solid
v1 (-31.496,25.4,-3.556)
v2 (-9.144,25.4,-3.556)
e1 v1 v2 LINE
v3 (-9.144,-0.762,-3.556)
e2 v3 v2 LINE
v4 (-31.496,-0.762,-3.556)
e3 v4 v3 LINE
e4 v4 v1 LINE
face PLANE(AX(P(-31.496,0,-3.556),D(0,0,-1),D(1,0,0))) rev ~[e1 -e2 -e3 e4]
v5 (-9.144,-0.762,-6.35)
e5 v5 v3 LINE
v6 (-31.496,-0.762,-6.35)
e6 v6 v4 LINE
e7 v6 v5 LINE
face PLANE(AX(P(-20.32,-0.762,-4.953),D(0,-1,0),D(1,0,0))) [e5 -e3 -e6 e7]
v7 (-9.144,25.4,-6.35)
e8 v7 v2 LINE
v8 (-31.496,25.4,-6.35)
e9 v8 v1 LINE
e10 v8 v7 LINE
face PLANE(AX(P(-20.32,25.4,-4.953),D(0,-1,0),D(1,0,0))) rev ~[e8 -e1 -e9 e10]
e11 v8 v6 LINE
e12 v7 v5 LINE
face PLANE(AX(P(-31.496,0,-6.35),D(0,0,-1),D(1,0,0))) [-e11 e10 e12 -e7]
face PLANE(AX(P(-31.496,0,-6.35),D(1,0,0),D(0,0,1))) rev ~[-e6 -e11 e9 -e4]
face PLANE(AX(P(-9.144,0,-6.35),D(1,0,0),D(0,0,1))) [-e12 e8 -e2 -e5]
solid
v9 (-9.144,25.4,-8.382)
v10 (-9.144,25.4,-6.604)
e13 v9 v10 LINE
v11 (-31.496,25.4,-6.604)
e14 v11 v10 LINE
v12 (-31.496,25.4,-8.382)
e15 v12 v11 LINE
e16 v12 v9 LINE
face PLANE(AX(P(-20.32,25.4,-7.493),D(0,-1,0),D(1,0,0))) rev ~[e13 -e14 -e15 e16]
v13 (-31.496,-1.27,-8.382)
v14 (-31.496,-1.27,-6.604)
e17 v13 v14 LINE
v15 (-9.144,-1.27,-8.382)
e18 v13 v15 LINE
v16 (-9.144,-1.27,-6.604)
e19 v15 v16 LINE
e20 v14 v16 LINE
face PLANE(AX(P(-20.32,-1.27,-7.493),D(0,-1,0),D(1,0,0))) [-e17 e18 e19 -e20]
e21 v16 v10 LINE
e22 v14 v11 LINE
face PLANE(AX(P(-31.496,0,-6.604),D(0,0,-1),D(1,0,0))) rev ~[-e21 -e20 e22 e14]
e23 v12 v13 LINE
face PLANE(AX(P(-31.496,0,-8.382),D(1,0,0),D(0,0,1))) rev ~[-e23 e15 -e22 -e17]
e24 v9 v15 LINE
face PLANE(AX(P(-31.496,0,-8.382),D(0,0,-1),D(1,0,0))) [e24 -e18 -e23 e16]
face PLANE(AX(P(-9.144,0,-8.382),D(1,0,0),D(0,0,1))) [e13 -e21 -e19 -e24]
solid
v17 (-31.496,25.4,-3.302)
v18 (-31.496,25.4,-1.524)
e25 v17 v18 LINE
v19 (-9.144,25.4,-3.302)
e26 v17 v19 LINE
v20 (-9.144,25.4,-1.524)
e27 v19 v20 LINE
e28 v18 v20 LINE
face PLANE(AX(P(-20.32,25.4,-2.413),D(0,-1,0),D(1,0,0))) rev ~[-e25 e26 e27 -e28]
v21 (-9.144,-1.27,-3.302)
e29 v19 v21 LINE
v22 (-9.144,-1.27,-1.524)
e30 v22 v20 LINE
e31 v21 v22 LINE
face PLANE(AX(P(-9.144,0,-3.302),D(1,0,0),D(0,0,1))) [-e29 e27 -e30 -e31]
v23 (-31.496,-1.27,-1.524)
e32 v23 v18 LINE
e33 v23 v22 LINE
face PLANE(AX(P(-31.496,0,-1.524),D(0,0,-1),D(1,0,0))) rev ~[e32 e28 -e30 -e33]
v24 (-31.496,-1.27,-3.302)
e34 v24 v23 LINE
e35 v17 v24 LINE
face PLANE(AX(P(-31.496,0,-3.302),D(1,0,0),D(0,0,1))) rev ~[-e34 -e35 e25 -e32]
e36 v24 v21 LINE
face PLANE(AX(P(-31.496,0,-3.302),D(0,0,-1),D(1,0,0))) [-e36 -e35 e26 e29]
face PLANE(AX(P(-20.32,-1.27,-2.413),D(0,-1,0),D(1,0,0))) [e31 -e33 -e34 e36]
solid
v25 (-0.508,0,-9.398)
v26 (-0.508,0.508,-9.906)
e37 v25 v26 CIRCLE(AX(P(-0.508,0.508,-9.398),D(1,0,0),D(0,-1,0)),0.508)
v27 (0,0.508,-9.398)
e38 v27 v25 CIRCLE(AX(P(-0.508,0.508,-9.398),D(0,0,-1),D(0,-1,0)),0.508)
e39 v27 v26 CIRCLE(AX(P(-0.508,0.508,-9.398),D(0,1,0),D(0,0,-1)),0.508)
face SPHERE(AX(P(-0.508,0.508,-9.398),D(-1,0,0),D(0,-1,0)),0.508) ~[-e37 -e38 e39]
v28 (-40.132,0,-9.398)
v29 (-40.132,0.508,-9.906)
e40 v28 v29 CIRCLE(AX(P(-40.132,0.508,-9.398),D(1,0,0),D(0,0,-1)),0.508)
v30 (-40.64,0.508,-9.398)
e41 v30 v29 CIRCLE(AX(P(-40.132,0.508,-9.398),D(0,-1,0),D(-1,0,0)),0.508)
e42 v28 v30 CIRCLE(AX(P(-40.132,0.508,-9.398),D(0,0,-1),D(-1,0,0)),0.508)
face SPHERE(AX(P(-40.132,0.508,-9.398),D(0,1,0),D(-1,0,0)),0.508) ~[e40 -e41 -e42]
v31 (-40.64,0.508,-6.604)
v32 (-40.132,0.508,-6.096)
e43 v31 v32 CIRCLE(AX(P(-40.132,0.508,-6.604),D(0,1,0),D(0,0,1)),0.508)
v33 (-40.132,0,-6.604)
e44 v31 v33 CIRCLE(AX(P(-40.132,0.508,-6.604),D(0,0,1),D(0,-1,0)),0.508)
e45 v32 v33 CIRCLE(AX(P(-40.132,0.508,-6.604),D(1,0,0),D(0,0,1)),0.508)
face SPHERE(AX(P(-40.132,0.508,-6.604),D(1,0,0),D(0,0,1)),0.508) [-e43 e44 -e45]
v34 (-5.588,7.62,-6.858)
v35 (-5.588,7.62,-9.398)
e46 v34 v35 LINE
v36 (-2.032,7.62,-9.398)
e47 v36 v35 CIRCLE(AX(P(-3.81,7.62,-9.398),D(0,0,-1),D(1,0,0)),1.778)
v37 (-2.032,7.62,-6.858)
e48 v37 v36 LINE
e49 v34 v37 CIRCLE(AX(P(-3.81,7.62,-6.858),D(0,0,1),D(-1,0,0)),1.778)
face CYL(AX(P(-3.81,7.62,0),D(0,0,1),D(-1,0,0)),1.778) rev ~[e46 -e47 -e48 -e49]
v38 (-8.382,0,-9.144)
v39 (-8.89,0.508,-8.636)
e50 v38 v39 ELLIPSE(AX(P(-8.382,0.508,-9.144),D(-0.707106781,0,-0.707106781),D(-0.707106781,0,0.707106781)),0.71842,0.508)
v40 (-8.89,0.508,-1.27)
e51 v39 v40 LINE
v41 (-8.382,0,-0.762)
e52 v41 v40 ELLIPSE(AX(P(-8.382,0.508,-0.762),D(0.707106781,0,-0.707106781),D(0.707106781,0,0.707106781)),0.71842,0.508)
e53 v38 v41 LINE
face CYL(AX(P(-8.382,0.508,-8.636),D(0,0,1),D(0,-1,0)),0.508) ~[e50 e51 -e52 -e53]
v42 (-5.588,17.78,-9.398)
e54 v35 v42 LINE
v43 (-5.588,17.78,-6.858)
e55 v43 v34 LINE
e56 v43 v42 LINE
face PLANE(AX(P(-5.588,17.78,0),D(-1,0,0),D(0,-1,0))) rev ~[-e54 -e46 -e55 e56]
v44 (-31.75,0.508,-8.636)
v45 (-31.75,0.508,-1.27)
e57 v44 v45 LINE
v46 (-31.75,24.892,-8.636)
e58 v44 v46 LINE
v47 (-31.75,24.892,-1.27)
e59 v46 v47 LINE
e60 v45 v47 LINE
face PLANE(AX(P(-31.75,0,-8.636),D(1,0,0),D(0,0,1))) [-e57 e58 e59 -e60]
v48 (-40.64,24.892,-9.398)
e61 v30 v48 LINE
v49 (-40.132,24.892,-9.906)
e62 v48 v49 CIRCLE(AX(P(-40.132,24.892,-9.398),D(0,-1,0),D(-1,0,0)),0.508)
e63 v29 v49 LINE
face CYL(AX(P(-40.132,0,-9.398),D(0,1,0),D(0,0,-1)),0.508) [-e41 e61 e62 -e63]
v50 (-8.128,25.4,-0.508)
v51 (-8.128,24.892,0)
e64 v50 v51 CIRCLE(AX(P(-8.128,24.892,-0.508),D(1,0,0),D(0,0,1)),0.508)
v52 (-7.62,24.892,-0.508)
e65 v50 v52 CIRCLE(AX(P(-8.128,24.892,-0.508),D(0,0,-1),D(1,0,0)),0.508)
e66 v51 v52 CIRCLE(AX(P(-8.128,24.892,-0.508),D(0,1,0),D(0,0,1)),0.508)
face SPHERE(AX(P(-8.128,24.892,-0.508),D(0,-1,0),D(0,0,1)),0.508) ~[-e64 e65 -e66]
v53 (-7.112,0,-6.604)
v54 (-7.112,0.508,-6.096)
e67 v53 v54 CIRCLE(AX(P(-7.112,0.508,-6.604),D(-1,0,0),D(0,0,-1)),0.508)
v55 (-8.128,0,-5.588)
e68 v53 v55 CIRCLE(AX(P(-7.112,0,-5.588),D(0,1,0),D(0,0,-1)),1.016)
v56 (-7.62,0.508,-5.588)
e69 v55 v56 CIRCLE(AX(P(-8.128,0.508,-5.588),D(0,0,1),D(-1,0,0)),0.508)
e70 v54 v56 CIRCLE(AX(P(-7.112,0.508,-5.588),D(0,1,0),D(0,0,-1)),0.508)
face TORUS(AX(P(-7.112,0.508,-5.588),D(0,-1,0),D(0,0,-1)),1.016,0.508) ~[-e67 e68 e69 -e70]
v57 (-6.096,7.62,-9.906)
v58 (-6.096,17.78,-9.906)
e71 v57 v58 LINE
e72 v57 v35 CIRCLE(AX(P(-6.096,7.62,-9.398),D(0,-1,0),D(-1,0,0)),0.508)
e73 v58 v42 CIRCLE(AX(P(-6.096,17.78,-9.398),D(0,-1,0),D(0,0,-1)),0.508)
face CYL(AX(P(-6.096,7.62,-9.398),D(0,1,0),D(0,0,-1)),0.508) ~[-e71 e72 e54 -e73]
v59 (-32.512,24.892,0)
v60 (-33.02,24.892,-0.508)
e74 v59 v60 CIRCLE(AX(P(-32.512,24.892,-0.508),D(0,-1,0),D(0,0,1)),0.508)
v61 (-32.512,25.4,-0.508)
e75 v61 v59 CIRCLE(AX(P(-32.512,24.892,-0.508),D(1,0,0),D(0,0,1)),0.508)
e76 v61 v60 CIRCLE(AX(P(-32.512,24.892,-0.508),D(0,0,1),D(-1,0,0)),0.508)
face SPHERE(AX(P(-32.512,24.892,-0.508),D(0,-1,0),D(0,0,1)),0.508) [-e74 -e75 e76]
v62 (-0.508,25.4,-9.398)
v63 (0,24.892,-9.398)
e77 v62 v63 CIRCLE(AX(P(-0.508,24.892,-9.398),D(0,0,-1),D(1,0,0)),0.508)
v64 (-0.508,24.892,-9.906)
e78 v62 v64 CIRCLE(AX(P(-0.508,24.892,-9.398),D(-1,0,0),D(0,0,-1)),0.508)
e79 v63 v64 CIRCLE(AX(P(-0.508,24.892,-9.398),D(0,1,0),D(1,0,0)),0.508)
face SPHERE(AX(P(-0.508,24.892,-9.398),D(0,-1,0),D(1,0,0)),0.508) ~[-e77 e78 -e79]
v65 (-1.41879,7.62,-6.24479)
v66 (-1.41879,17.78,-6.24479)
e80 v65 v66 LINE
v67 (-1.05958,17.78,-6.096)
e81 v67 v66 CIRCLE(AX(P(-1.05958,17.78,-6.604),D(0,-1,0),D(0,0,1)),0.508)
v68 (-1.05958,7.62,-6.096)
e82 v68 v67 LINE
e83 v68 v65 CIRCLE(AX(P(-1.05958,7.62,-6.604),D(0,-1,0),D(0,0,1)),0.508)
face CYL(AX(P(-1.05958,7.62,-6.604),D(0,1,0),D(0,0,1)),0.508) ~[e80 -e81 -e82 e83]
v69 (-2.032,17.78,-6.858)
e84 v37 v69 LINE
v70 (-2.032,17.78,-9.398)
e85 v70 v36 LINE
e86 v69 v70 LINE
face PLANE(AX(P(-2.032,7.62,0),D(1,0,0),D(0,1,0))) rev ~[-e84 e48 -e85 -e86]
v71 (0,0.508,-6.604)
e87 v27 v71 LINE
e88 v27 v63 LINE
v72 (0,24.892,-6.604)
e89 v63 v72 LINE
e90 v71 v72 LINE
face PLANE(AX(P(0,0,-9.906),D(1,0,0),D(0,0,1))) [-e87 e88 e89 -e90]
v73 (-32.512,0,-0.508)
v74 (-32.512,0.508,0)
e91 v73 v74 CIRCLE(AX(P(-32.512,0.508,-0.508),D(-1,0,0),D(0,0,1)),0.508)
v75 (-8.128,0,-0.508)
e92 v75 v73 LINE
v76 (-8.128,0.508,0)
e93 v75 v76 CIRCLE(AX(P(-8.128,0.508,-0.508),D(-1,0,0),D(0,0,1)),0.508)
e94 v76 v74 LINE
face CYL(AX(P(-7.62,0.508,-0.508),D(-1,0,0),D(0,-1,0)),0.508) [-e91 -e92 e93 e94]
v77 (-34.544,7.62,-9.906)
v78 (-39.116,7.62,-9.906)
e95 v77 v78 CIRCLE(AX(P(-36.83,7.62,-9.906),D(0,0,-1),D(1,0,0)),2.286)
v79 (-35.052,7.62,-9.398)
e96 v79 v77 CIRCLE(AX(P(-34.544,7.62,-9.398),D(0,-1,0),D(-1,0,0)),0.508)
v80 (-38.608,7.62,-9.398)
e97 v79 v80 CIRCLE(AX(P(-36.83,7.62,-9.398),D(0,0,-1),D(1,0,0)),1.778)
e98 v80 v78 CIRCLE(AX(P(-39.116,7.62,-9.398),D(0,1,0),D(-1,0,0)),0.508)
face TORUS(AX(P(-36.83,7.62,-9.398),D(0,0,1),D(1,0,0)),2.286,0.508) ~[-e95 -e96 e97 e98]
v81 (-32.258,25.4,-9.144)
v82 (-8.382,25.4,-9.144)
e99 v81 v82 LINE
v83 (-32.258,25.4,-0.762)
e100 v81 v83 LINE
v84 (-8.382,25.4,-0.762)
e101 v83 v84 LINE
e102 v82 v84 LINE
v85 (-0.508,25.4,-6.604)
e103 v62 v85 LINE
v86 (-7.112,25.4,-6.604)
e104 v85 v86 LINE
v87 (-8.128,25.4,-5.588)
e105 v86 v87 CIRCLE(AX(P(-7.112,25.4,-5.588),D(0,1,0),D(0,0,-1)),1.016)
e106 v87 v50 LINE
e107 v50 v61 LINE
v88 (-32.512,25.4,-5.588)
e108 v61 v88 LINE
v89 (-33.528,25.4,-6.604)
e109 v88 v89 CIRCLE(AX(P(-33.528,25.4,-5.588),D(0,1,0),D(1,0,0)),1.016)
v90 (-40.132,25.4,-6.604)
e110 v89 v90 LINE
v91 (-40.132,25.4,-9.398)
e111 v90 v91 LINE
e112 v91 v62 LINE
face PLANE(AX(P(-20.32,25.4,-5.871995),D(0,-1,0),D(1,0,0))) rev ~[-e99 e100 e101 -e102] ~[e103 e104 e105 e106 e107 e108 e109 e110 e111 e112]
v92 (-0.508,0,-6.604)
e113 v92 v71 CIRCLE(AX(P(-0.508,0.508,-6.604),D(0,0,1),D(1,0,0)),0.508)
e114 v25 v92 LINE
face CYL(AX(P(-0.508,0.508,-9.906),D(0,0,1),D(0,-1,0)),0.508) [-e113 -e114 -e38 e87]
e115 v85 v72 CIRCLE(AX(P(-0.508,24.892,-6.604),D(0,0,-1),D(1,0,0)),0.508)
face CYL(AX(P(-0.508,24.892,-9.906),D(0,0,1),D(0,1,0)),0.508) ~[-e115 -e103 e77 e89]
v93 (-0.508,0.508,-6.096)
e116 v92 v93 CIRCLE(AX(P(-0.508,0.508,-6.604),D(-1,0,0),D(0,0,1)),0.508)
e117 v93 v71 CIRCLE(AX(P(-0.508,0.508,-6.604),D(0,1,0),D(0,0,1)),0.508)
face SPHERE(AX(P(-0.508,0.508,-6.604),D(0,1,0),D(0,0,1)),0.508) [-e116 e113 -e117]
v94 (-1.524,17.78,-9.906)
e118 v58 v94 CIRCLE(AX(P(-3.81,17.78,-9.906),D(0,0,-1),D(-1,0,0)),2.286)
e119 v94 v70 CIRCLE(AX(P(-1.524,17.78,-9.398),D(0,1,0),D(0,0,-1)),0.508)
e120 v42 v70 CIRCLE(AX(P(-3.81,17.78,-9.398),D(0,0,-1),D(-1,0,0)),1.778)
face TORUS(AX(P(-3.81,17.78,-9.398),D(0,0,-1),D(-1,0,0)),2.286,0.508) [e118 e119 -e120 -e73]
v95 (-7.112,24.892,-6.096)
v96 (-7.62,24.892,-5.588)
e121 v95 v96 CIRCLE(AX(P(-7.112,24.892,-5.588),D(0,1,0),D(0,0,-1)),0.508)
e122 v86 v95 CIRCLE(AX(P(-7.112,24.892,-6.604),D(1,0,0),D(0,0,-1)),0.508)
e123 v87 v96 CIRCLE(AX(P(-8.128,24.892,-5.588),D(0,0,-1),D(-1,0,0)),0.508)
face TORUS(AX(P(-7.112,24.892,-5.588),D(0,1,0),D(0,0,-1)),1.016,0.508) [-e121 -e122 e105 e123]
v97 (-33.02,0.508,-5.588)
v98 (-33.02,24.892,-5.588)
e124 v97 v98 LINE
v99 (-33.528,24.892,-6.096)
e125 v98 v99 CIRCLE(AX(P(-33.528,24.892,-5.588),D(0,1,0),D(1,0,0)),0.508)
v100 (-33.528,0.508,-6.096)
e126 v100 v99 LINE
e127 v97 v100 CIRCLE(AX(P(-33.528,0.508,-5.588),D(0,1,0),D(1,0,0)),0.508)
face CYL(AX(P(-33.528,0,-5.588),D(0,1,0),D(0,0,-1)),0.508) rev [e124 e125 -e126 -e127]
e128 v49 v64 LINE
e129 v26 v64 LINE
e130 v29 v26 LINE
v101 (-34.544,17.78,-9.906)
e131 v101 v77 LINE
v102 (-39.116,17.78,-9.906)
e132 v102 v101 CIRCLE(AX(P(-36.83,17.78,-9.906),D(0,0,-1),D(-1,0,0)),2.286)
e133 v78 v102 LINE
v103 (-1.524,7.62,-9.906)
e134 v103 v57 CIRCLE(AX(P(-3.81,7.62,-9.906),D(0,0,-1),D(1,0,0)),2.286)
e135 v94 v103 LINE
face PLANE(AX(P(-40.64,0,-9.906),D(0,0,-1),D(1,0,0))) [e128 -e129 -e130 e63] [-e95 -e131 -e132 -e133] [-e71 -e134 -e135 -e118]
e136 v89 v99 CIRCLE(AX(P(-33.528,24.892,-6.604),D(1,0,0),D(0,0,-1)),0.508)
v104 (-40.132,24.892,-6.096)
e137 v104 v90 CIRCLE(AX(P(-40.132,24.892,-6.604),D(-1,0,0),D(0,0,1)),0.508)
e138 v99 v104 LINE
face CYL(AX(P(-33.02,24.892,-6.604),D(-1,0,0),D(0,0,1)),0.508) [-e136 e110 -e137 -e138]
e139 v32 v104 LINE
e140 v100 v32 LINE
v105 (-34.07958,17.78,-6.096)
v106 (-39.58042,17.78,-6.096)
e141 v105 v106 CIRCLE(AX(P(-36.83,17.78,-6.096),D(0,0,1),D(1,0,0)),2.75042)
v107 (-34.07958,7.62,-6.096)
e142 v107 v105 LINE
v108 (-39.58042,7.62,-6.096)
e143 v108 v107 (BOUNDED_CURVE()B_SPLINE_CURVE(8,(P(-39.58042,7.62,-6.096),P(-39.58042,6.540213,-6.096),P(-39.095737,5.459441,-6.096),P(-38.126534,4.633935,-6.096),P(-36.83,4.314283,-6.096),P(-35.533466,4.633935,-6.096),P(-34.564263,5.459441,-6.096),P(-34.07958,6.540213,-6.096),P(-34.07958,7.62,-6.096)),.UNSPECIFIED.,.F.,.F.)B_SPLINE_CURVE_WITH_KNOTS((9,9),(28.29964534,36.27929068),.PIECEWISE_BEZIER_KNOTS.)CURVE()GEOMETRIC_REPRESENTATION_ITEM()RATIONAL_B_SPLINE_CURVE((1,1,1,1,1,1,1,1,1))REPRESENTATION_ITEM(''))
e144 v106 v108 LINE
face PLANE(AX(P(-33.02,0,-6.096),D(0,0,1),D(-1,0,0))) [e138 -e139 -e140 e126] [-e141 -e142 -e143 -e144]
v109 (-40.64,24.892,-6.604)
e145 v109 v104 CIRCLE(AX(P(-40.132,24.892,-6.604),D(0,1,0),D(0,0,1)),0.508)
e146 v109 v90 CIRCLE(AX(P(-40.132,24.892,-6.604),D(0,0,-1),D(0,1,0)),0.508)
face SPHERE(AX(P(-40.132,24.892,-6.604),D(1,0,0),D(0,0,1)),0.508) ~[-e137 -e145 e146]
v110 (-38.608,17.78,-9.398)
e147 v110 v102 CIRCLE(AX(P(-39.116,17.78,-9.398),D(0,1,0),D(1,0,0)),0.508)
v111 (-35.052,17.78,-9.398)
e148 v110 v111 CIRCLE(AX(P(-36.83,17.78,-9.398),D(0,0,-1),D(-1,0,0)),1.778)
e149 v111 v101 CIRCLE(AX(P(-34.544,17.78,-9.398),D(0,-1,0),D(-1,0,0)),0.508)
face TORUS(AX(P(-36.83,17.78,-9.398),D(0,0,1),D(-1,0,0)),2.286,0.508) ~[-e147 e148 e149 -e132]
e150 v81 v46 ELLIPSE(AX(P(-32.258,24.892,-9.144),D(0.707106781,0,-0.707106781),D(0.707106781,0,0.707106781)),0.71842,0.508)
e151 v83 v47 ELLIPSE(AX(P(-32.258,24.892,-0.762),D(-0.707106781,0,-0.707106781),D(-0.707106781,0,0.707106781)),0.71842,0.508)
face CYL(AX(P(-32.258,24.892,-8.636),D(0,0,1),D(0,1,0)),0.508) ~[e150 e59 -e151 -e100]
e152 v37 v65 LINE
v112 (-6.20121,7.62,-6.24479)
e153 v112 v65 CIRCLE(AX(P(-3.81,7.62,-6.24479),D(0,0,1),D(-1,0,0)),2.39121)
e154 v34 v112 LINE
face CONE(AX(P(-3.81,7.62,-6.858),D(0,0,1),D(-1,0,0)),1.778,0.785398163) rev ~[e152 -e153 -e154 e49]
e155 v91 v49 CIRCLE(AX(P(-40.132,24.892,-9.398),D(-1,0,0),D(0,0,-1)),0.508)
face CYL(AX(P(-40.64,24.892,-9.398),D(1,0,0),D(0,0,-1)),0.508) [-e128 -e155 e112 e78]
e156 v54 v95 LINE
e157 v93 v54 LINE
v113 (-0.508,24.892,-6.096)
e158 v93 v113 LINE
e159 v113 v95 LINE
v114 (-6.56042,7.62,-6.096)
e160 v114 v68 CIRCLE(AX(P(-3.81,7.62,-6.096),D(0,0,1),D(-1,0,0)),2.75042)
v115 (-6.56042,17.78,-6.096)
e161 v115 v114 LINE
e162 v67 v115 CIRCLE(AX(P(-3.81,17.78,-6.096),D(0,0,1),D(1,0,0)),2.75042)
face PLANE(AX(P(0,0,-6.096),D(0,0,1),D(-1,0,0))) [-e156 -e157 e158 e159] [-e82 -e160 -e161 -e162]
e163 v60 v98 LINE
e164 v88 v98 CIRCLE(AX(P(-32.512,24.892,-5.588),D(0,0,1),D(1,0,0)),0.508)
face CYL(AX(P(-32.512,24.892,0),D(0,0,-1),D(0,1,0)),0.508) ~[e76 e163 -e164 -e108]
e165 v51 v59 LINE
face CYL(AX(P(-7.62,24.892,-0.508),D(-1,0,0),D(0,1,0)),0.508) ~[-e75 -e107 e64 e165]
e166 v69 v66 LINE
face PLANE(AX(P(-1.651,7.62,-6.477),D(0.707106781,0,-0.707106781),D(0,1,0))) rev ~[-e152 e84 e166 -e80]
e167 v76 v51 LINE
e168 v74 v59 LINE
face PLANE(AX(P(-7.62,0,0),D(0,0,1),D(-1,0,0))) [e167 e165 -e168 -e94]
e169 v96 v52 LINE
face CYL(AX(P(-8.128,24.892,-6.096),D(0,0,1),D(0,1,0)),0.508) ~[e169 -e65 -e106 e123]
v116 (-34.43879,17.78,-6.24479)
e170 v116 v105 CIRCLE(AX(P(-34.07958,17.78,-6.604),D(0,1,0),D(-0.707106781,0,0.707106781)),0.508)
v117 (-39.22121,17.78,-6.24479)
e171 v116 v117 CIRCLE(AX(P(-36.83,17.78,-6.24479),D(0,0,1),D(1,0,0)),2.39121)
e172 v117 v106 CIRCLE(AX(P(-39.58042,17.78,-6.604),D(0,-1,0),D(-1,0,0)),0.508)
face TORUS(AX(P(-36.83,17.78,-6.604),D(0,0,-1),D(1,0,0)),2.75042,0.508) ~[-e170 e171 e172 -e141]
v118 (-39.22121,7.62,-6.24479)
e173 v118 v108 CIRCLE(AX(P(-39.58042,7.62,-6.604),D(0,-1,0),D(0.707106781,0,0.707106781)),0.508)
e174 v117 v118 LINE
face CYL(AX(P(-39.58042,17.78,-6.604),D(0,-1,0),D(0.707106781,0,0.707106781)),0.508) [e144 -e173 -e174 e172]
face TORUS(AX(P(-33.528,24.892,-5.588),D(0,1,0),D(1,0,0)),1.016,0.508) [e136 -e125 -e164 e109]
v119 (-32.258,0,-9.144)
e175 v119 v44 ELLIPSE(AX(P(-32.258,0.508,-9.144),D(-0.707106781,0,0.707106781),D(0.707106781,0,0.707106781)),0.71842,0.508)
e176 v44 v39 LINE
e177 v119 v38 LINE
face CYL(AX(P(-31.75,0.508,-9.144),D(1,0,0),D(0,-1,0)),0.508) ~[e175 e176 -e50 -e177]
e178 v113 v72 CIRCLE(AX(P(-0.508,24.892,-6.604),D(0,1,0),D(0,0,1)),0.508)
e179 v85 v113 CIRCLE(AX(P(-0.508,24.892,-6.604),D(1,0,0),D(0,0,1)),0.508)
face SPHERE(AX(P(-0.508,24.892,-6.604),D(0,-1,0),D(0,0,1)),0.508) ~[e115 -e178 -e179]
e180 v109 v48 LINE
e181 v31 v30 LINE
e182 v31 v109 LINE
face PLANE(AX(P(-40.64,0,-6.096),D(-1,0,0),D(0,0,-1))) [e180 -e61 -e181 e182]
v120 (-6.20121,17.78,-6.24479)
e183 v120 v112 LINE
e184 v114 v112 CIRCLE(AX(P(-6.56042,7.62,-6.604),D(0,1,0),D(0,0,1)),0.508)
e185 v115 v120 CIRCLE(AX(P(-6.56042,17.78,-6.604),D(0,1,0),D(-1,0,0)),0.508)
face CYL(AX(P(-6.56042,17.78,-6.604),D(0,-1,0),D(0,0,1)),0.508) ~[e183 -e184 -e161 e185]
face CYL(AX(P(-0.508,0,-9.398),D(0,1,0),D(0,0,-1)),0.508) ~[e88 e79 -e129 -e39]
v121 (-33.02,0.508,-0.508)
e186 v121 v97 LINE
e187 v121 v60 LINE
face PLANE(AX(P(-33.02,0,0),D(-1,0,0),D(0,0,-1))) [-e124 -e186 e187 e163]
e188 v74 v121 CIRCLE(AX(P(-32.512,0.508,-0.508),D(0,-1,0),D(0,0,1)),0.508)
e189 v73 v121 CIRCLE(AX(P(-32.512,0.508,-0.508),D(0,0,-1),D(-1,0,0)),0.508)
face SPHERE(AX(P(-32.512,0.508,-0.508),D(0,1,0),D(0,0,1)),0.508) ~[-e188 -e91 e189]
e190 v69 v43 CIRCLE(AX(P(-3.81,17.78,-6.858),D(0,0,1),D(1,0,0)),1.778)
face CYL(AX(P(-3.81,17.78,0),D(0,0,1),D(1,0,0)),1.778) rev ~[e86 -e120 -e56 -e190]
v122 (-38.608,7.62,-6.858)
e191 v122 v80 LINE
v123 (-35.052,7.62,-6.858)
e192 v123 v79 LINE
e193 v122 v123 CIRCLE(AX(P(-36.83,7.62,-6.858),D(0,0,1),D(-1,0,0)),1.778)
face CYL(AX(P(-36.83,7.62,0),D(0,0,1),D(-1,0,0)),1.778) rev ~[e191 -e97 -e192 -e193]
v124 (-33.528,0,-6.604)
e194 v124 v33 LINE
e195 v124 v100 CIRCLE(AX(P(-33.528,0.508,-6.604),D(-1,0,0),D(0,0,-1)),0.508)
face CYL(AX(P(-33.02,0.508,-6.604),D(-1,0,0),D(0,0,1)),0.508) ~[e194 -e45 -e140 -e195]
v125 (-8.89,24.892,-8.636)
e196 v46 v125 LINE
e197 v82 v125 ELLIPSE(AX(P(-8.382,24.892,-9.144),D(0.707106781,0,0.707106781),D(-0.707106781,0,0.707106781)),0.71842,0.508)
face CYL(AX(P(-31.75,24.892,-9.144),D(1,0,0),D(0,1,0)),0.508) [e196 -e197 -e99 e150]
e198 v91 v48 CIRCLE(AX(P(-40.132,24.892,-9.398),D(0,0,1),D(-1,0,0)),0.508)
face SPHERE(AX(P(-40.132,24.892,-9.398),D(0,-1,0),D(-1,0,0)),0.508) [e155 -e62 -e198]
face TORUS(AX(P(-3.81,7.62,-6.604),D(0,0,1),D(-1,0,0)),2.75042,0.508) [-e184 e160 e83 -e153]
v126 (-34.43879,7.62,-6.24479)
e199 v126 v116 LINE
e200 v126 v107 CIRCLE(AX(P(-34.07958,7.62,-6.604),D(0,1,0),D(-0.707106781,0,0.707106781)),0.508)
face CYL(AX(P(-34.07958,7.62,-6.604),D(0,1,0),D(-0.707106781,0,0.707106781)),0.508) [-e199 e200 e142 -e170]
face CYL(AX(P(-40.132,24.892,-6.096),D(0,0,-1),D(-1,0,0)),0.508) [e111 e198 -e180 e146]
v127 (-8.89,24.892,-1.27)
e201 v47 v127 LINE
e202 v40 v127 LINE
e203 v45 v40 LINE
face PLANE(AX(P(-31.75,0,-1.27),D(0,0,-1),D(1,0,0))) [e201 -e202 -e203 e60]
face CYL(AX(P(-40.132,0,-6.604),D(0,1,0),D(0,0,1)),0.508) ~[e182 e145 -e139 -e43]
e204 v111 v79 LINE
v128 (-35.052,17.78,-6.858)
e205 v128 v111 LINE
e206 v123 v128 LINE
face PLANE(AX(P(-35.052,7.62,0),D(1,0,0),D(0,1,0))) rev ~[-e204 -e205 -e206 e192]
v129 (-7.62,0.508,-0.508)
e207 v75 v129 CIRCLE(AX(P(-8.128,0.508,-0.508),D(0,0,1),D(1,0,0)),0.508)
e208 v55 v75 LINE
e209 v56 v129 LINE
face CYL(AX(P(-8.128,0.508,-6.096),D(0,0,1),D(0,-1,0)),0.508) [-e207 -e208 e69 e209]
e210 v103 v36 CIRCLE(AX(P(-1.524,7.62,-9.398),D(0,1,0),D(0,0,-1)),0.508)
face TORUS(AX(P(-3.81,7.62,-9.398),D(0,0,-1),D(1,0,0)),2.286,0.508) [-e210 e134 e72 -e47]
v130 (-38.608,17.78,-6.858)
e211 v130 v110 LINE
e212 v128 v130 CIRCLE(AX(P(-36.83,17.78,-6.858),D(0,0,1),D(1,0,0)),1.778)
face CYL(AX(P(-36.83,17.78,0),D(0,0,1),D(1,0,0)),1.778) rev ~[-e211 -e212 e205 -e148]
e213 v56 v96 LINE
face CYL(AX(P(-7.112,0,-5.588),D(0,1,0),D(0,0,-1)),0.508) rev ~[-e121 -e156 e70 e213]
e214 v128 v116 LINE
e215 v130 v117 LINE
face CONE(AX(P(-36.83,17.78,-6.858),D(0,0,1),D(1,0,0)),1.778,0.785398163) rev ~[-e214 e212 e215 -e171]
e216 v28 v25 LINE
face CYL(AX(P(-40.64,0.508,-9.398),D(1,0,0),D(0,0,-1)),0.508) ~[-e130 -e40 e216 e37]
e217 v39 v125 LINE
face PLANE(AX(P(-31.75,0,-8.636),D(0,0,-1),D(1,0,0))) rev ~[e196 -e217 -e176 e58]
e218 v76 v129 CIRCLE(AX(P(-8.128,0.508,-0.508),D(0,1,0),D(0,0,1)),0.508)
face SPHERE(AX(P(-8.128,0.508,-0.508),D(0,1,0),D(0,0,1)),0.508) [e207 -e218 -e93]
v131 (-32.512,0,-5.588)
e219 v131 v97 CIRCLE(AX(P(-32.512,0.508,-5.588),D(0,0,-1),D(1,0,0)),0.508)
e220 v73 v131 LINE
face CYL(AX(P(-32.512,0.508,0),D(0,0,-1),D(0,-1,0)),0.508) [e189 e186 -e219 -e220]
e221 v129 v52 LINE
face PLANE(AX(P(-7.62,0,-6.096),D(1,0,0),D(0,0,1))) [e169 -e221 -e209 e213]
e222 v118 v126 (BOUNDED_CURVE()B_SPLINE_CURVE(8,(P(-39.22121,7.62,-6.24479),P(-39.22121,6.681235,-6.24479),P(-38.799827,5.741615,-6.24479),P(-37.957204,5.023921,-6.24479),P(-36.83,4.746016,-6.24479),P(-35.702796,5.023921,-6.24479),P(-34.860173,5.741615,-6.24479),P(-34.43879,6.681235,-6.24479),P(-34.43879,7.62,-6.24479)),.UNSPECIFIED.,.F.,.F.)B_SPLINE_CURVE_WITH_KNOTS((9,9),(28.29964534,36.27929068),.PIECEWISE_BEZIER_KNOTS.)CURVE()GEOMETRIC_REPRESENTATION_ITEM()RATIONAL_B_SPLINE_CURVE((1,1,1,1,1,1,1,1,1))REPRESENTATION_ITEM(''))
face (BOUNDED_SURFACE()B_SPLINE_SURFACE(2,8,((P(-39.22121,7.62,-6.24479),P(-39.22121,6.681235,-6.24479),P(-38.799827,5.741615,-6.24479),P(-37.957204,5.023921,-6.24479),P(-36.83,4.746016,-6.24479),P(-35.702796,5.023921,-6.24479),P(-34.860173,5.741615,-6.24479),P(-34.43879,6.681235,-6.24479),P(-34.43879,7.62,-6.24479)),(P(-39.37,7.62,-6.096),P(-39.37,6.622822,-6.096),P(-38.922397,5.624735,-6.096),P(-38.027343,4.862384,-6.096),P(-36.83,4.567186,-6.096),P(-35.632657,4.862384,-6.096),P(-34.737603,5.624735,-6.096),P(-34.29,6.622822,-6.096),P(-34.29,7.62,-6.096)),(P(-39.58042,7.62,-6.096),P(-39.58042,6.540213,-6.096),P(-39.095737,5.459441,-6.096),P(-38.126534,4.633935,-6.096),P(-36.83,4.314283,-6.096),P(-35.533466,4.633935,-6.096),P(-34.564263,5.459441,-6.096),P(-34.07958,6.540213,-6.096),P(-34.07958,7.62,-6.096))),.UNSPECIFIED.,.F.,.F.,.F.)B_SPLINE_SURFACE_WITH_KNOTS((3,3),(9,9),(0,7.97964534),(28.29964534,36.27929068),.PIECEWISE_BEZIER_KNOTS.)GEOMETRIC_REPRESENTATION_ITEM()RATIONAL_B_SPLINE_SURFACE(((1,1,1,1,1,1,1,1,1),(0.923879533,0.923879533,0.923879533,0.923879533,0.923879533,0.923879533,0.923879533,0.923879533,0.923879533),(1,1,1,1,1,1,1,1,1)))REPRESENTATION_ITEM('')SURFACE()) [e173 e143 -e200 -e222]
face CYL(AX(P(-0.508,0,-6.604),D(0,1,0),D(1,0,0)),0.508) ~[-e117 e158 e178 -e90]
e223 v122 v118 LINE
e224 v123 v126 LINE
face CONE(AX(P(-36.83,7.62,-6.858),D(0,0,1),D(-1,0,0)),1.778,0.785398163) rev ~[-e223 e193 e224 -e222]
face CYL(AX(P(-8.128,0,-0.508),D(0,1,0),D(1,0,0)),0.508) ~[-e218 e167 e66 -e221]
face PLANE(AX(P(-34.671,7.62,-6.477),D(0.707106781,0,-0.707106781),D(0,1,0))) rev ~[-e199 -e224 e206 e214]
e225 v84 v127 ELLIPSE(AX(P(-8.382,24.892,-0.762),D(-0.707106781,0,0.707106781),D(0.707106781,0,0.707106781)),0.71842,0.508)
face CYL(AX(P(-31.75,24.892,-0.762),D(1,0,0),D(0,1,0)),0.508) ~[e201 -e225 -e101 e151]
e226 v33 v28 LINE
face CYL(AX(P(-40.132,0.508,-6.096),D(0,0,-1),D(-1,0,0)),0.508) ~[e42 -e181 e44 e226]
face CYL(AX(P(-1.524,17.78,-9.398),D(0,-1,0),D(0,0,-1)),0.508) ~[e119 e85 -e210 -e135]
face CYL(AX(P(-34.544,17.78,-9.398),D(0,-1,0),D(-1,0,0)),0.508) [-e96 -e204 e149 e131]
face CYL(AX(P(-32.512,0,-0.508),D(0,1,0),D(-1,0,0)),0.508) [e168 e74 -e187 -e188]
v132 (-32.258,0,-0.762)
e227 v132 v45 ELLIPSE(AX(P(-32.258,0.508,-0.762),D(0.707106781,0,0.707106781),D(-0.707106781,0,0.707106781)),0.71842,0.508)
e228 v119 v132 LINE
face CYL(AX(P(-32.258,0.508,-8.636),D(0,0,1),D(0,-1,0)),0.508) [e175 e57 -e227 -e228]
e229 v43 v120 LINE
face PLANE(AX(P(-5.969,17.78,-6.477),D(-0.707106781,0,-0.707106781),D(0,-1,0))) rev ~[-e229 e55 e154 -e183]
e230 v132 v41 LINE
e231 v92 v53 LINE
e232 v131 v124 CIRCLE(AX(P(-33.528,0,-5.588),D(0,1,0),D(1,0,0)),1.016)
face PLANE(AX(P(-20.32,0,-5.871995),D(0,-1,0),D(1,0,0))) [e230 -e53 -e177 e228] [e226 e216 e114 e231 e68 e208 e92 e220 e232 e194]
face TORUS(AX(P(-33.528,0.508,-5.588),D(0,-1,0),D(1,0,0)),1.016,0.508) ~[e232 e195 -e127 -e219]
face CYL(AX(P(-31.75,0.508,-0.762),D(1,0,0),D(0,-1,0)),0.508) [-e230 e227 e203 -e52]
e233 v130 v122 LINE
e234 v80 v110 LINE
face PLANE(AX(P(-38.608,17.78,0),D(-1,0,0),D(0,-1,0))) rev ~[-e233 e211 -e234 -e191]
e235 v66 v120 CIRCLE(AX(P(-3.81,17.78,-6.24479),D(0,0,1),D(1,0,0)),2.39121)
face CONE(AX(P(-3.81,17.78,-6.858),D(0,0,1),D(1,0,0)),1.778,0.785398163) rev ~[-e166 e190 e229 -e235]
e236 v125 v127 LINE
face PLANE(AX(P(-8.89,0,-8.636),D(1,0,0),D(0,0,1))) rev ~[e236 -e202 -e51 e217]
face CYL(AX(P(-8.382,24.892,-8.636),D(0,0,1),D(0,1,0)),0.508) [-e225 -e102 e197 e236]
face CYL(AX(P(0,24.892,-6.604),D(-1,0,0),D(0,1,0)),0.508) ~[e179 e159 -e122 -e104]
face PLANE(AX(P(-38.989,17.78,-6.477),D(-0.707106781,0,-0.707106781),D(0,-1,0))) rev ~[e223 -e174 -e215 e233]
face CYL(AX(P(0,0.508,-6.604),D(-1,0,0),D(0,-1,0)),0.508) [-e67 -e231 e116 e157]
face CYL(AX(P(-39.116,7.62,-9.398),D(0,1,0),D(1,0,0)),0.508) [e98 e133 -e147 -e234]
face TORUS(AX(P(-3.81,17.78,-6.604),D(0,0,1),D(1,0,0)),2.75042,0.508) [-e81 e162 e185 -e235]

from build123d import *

# Parameters (mm, degrees)
F0_W          = 22.86
F0_H          = 7.366
F1_DEPTH      = 25.4
F3_DEPTH      = 9.907
F4_W          = 22.352
F4_H          = 1.778
F5_DEPTH      = 1.27
F5_DEPTH_BACK = 25.4
F6_DEPTH      = 1.27
F6_DEPTH_BACK = 25.4
F4_H_2        = 2.794
F7_DEPTH      = 0.762
F7_DEPTH_BACK = 25.4
F8_SIZE       = 0.762
F9_R          = 0.508


with BuildPart() as f1:
    # F0 (on Front) → F1 (new body)
    with BuildSketch(Plane.XZ):
        Polygon((-40.64, -9.906), (0, -9.906), (0, -6.096), (-7.62, -6.096), (-7.62, 0), (-33.02, 0), (-33.02, -6.096), (-40.64, -6.096), align=None)
        with Locations((-20.32, -4.953)):
            Rectangle(F0_W, F0_H, mode=Mode.SUBTRACT)
    extrude(amount=-F1_DEPTH)

    # F2 (on face) → F3 (cut, through all)
    with BuildSketch(Plane.XY):
        with BuildLine():
            ThreePointArc((-35.052, 17.78), (-36.83, 19.558), (-38.608, 17.78))
            Line((-38.608, 17.78), (-38.608, 7.62))
            ThreePointArc((-38.608, 7.62), (-36.83, 5.842), (-35.052, 7.62))
            Line((-35.052, 7.62), (-35.052, 17.78))
        make_face()
        with BuildLine():
            Line((-2.032, 7.62), (-2.032, 17.78))
            ThreePointArc((-2.032, 17.78), (-3.81, 19.558), (-5.588, 17.78))
            Line((-5.588, 17.78), (-5.588, 7.62))
            ThreePointArc((-5.588, 7.62), (-3.81, 5.842), (-2.032, 7.62))
        make_face()
    extrude(amount=-F3_DEPTH, mode=Mode.SUBTRACT)

    # F8
    f8_edges = [f1.edges().sort_by_distance(p)[0] for p in [
        (-35.052, 12.7, -6.096),
        (-2.032, 12.7, -6.096),
    ]]
    chamfer(f8_edges, length=F8_SIZE)

    # F9
    f9_edges = [f1.edges().sort_by_distance(p)[0] for p in [
        (-33.02, 12.7, -6.096),
        (-7.62, 12.7, -6.096),
        (-7.62, 12.7, 0),
        (-33.02, 12.7, 0),
        (-20.32, 0, 0),
        (-20.32, 25.4, 0),
        (-33.02, 0, -3.048),
        (-33.02, 25.4, -3.048),
        (-34.29, 12.7, -6.096),
        (-36.83, 5.08, -6.096),
        (-36.83, 20.32, -6.096),
        (-39.37, 12.7, -6.096),
        (-36.83, 0, -6.096),
        (-36.83, 25.4, -6.096),
        (-40.64, 12.7, -6.096),
        (-40.64, 12.7, -9.906),
        (-40.64, 0, -8.001),
        (-40.64, 25.4, -8.001),
        (-1.27, 12.7, -6.096),
        (-3.81, 5.08, -6.096),
        (-3.81, 20.32, -6.096),
        (-6.35, 12.7, -6.096),
        (0, 12.7, -6.096),
        (-3.81, 0, -6.096),
        (-3.81, 25.4, -6.096),
        (-7.62, 0, -3.048),
        (-7.62, 25.4, -3.048),
        (-20.32, 0, -9.906),
        (0, 0, -8.001),
        (-8.89, 0, -4.953),
        (-20.32, 0, -8.636),
        (-31.75, 0, -4.953),
        (-20.32, 0, -1.27),
        (0, 12.7, -9.906),
        (0, 25.4, -8.001),
        (-20.32, 25.4, -9.906),
        (-35.052, 12.7, -9.906),
        (-36.83, 5.842, -9.906),
        (-38.608, 12.7, -9.906),
        (-36.83, 19.558, -9.906),
        (-2.032, 12.7, -9.906),
        (-3.81, 5.842, -9.906),
        (-5.588, 12.7, -9.906),
        (-3.81, 19.558, -9.906),
        (-8.89, 25.4, -4.953),
        (-20.32, 25.4, -8.636),
        (-31.75, 25.4, -4.953),
        (-20.32, 25.4, -1.27),
    ]]
    fillet(f9_edges, radius=F9_R)


with BuildPart() as f5:
    # F4 (on face) → F5 (new body, two sides)
    with BuildSketch(Plane.XZ) as f5_sk:
        with Locations((-20.32, -2.413)):
            Rectangle(F4_W, F4_H)
    extrude(amount=F5_DEPTH)
    extrude(f5_sk.sketch, amount=-F5_DEPTH_BACK)


with BuildPart() as f6:
    # F4 (on face) → F6 (new body, two sides)
    with BuildSketch(Plane.XZ) as f6_sk:
        with Locations((-20.32, -7.493)):
            Rectangle(F4_W, F4_H)
    extrude(amount=F6_DEPTH)
    extrude(f6_sk.sketch, amount=-F6_DEPTH_BACK)


with BuildPart() as f7:
    # F4 (on face) → F7 (new body, two sides)
    with BuildSketch(Plane.XZ) as f7_sk:
        with Locations((-20.32, -4.953)):
            Rectangle(F4_W, F4_H_2)
    extrude(amount=F7_DEPTH)
    extrude(f7_sk.sketch, amount=-F7_DEPTH_BACK)


solid = Compound([f1.part, f5.part, f6.part, f7.part])
